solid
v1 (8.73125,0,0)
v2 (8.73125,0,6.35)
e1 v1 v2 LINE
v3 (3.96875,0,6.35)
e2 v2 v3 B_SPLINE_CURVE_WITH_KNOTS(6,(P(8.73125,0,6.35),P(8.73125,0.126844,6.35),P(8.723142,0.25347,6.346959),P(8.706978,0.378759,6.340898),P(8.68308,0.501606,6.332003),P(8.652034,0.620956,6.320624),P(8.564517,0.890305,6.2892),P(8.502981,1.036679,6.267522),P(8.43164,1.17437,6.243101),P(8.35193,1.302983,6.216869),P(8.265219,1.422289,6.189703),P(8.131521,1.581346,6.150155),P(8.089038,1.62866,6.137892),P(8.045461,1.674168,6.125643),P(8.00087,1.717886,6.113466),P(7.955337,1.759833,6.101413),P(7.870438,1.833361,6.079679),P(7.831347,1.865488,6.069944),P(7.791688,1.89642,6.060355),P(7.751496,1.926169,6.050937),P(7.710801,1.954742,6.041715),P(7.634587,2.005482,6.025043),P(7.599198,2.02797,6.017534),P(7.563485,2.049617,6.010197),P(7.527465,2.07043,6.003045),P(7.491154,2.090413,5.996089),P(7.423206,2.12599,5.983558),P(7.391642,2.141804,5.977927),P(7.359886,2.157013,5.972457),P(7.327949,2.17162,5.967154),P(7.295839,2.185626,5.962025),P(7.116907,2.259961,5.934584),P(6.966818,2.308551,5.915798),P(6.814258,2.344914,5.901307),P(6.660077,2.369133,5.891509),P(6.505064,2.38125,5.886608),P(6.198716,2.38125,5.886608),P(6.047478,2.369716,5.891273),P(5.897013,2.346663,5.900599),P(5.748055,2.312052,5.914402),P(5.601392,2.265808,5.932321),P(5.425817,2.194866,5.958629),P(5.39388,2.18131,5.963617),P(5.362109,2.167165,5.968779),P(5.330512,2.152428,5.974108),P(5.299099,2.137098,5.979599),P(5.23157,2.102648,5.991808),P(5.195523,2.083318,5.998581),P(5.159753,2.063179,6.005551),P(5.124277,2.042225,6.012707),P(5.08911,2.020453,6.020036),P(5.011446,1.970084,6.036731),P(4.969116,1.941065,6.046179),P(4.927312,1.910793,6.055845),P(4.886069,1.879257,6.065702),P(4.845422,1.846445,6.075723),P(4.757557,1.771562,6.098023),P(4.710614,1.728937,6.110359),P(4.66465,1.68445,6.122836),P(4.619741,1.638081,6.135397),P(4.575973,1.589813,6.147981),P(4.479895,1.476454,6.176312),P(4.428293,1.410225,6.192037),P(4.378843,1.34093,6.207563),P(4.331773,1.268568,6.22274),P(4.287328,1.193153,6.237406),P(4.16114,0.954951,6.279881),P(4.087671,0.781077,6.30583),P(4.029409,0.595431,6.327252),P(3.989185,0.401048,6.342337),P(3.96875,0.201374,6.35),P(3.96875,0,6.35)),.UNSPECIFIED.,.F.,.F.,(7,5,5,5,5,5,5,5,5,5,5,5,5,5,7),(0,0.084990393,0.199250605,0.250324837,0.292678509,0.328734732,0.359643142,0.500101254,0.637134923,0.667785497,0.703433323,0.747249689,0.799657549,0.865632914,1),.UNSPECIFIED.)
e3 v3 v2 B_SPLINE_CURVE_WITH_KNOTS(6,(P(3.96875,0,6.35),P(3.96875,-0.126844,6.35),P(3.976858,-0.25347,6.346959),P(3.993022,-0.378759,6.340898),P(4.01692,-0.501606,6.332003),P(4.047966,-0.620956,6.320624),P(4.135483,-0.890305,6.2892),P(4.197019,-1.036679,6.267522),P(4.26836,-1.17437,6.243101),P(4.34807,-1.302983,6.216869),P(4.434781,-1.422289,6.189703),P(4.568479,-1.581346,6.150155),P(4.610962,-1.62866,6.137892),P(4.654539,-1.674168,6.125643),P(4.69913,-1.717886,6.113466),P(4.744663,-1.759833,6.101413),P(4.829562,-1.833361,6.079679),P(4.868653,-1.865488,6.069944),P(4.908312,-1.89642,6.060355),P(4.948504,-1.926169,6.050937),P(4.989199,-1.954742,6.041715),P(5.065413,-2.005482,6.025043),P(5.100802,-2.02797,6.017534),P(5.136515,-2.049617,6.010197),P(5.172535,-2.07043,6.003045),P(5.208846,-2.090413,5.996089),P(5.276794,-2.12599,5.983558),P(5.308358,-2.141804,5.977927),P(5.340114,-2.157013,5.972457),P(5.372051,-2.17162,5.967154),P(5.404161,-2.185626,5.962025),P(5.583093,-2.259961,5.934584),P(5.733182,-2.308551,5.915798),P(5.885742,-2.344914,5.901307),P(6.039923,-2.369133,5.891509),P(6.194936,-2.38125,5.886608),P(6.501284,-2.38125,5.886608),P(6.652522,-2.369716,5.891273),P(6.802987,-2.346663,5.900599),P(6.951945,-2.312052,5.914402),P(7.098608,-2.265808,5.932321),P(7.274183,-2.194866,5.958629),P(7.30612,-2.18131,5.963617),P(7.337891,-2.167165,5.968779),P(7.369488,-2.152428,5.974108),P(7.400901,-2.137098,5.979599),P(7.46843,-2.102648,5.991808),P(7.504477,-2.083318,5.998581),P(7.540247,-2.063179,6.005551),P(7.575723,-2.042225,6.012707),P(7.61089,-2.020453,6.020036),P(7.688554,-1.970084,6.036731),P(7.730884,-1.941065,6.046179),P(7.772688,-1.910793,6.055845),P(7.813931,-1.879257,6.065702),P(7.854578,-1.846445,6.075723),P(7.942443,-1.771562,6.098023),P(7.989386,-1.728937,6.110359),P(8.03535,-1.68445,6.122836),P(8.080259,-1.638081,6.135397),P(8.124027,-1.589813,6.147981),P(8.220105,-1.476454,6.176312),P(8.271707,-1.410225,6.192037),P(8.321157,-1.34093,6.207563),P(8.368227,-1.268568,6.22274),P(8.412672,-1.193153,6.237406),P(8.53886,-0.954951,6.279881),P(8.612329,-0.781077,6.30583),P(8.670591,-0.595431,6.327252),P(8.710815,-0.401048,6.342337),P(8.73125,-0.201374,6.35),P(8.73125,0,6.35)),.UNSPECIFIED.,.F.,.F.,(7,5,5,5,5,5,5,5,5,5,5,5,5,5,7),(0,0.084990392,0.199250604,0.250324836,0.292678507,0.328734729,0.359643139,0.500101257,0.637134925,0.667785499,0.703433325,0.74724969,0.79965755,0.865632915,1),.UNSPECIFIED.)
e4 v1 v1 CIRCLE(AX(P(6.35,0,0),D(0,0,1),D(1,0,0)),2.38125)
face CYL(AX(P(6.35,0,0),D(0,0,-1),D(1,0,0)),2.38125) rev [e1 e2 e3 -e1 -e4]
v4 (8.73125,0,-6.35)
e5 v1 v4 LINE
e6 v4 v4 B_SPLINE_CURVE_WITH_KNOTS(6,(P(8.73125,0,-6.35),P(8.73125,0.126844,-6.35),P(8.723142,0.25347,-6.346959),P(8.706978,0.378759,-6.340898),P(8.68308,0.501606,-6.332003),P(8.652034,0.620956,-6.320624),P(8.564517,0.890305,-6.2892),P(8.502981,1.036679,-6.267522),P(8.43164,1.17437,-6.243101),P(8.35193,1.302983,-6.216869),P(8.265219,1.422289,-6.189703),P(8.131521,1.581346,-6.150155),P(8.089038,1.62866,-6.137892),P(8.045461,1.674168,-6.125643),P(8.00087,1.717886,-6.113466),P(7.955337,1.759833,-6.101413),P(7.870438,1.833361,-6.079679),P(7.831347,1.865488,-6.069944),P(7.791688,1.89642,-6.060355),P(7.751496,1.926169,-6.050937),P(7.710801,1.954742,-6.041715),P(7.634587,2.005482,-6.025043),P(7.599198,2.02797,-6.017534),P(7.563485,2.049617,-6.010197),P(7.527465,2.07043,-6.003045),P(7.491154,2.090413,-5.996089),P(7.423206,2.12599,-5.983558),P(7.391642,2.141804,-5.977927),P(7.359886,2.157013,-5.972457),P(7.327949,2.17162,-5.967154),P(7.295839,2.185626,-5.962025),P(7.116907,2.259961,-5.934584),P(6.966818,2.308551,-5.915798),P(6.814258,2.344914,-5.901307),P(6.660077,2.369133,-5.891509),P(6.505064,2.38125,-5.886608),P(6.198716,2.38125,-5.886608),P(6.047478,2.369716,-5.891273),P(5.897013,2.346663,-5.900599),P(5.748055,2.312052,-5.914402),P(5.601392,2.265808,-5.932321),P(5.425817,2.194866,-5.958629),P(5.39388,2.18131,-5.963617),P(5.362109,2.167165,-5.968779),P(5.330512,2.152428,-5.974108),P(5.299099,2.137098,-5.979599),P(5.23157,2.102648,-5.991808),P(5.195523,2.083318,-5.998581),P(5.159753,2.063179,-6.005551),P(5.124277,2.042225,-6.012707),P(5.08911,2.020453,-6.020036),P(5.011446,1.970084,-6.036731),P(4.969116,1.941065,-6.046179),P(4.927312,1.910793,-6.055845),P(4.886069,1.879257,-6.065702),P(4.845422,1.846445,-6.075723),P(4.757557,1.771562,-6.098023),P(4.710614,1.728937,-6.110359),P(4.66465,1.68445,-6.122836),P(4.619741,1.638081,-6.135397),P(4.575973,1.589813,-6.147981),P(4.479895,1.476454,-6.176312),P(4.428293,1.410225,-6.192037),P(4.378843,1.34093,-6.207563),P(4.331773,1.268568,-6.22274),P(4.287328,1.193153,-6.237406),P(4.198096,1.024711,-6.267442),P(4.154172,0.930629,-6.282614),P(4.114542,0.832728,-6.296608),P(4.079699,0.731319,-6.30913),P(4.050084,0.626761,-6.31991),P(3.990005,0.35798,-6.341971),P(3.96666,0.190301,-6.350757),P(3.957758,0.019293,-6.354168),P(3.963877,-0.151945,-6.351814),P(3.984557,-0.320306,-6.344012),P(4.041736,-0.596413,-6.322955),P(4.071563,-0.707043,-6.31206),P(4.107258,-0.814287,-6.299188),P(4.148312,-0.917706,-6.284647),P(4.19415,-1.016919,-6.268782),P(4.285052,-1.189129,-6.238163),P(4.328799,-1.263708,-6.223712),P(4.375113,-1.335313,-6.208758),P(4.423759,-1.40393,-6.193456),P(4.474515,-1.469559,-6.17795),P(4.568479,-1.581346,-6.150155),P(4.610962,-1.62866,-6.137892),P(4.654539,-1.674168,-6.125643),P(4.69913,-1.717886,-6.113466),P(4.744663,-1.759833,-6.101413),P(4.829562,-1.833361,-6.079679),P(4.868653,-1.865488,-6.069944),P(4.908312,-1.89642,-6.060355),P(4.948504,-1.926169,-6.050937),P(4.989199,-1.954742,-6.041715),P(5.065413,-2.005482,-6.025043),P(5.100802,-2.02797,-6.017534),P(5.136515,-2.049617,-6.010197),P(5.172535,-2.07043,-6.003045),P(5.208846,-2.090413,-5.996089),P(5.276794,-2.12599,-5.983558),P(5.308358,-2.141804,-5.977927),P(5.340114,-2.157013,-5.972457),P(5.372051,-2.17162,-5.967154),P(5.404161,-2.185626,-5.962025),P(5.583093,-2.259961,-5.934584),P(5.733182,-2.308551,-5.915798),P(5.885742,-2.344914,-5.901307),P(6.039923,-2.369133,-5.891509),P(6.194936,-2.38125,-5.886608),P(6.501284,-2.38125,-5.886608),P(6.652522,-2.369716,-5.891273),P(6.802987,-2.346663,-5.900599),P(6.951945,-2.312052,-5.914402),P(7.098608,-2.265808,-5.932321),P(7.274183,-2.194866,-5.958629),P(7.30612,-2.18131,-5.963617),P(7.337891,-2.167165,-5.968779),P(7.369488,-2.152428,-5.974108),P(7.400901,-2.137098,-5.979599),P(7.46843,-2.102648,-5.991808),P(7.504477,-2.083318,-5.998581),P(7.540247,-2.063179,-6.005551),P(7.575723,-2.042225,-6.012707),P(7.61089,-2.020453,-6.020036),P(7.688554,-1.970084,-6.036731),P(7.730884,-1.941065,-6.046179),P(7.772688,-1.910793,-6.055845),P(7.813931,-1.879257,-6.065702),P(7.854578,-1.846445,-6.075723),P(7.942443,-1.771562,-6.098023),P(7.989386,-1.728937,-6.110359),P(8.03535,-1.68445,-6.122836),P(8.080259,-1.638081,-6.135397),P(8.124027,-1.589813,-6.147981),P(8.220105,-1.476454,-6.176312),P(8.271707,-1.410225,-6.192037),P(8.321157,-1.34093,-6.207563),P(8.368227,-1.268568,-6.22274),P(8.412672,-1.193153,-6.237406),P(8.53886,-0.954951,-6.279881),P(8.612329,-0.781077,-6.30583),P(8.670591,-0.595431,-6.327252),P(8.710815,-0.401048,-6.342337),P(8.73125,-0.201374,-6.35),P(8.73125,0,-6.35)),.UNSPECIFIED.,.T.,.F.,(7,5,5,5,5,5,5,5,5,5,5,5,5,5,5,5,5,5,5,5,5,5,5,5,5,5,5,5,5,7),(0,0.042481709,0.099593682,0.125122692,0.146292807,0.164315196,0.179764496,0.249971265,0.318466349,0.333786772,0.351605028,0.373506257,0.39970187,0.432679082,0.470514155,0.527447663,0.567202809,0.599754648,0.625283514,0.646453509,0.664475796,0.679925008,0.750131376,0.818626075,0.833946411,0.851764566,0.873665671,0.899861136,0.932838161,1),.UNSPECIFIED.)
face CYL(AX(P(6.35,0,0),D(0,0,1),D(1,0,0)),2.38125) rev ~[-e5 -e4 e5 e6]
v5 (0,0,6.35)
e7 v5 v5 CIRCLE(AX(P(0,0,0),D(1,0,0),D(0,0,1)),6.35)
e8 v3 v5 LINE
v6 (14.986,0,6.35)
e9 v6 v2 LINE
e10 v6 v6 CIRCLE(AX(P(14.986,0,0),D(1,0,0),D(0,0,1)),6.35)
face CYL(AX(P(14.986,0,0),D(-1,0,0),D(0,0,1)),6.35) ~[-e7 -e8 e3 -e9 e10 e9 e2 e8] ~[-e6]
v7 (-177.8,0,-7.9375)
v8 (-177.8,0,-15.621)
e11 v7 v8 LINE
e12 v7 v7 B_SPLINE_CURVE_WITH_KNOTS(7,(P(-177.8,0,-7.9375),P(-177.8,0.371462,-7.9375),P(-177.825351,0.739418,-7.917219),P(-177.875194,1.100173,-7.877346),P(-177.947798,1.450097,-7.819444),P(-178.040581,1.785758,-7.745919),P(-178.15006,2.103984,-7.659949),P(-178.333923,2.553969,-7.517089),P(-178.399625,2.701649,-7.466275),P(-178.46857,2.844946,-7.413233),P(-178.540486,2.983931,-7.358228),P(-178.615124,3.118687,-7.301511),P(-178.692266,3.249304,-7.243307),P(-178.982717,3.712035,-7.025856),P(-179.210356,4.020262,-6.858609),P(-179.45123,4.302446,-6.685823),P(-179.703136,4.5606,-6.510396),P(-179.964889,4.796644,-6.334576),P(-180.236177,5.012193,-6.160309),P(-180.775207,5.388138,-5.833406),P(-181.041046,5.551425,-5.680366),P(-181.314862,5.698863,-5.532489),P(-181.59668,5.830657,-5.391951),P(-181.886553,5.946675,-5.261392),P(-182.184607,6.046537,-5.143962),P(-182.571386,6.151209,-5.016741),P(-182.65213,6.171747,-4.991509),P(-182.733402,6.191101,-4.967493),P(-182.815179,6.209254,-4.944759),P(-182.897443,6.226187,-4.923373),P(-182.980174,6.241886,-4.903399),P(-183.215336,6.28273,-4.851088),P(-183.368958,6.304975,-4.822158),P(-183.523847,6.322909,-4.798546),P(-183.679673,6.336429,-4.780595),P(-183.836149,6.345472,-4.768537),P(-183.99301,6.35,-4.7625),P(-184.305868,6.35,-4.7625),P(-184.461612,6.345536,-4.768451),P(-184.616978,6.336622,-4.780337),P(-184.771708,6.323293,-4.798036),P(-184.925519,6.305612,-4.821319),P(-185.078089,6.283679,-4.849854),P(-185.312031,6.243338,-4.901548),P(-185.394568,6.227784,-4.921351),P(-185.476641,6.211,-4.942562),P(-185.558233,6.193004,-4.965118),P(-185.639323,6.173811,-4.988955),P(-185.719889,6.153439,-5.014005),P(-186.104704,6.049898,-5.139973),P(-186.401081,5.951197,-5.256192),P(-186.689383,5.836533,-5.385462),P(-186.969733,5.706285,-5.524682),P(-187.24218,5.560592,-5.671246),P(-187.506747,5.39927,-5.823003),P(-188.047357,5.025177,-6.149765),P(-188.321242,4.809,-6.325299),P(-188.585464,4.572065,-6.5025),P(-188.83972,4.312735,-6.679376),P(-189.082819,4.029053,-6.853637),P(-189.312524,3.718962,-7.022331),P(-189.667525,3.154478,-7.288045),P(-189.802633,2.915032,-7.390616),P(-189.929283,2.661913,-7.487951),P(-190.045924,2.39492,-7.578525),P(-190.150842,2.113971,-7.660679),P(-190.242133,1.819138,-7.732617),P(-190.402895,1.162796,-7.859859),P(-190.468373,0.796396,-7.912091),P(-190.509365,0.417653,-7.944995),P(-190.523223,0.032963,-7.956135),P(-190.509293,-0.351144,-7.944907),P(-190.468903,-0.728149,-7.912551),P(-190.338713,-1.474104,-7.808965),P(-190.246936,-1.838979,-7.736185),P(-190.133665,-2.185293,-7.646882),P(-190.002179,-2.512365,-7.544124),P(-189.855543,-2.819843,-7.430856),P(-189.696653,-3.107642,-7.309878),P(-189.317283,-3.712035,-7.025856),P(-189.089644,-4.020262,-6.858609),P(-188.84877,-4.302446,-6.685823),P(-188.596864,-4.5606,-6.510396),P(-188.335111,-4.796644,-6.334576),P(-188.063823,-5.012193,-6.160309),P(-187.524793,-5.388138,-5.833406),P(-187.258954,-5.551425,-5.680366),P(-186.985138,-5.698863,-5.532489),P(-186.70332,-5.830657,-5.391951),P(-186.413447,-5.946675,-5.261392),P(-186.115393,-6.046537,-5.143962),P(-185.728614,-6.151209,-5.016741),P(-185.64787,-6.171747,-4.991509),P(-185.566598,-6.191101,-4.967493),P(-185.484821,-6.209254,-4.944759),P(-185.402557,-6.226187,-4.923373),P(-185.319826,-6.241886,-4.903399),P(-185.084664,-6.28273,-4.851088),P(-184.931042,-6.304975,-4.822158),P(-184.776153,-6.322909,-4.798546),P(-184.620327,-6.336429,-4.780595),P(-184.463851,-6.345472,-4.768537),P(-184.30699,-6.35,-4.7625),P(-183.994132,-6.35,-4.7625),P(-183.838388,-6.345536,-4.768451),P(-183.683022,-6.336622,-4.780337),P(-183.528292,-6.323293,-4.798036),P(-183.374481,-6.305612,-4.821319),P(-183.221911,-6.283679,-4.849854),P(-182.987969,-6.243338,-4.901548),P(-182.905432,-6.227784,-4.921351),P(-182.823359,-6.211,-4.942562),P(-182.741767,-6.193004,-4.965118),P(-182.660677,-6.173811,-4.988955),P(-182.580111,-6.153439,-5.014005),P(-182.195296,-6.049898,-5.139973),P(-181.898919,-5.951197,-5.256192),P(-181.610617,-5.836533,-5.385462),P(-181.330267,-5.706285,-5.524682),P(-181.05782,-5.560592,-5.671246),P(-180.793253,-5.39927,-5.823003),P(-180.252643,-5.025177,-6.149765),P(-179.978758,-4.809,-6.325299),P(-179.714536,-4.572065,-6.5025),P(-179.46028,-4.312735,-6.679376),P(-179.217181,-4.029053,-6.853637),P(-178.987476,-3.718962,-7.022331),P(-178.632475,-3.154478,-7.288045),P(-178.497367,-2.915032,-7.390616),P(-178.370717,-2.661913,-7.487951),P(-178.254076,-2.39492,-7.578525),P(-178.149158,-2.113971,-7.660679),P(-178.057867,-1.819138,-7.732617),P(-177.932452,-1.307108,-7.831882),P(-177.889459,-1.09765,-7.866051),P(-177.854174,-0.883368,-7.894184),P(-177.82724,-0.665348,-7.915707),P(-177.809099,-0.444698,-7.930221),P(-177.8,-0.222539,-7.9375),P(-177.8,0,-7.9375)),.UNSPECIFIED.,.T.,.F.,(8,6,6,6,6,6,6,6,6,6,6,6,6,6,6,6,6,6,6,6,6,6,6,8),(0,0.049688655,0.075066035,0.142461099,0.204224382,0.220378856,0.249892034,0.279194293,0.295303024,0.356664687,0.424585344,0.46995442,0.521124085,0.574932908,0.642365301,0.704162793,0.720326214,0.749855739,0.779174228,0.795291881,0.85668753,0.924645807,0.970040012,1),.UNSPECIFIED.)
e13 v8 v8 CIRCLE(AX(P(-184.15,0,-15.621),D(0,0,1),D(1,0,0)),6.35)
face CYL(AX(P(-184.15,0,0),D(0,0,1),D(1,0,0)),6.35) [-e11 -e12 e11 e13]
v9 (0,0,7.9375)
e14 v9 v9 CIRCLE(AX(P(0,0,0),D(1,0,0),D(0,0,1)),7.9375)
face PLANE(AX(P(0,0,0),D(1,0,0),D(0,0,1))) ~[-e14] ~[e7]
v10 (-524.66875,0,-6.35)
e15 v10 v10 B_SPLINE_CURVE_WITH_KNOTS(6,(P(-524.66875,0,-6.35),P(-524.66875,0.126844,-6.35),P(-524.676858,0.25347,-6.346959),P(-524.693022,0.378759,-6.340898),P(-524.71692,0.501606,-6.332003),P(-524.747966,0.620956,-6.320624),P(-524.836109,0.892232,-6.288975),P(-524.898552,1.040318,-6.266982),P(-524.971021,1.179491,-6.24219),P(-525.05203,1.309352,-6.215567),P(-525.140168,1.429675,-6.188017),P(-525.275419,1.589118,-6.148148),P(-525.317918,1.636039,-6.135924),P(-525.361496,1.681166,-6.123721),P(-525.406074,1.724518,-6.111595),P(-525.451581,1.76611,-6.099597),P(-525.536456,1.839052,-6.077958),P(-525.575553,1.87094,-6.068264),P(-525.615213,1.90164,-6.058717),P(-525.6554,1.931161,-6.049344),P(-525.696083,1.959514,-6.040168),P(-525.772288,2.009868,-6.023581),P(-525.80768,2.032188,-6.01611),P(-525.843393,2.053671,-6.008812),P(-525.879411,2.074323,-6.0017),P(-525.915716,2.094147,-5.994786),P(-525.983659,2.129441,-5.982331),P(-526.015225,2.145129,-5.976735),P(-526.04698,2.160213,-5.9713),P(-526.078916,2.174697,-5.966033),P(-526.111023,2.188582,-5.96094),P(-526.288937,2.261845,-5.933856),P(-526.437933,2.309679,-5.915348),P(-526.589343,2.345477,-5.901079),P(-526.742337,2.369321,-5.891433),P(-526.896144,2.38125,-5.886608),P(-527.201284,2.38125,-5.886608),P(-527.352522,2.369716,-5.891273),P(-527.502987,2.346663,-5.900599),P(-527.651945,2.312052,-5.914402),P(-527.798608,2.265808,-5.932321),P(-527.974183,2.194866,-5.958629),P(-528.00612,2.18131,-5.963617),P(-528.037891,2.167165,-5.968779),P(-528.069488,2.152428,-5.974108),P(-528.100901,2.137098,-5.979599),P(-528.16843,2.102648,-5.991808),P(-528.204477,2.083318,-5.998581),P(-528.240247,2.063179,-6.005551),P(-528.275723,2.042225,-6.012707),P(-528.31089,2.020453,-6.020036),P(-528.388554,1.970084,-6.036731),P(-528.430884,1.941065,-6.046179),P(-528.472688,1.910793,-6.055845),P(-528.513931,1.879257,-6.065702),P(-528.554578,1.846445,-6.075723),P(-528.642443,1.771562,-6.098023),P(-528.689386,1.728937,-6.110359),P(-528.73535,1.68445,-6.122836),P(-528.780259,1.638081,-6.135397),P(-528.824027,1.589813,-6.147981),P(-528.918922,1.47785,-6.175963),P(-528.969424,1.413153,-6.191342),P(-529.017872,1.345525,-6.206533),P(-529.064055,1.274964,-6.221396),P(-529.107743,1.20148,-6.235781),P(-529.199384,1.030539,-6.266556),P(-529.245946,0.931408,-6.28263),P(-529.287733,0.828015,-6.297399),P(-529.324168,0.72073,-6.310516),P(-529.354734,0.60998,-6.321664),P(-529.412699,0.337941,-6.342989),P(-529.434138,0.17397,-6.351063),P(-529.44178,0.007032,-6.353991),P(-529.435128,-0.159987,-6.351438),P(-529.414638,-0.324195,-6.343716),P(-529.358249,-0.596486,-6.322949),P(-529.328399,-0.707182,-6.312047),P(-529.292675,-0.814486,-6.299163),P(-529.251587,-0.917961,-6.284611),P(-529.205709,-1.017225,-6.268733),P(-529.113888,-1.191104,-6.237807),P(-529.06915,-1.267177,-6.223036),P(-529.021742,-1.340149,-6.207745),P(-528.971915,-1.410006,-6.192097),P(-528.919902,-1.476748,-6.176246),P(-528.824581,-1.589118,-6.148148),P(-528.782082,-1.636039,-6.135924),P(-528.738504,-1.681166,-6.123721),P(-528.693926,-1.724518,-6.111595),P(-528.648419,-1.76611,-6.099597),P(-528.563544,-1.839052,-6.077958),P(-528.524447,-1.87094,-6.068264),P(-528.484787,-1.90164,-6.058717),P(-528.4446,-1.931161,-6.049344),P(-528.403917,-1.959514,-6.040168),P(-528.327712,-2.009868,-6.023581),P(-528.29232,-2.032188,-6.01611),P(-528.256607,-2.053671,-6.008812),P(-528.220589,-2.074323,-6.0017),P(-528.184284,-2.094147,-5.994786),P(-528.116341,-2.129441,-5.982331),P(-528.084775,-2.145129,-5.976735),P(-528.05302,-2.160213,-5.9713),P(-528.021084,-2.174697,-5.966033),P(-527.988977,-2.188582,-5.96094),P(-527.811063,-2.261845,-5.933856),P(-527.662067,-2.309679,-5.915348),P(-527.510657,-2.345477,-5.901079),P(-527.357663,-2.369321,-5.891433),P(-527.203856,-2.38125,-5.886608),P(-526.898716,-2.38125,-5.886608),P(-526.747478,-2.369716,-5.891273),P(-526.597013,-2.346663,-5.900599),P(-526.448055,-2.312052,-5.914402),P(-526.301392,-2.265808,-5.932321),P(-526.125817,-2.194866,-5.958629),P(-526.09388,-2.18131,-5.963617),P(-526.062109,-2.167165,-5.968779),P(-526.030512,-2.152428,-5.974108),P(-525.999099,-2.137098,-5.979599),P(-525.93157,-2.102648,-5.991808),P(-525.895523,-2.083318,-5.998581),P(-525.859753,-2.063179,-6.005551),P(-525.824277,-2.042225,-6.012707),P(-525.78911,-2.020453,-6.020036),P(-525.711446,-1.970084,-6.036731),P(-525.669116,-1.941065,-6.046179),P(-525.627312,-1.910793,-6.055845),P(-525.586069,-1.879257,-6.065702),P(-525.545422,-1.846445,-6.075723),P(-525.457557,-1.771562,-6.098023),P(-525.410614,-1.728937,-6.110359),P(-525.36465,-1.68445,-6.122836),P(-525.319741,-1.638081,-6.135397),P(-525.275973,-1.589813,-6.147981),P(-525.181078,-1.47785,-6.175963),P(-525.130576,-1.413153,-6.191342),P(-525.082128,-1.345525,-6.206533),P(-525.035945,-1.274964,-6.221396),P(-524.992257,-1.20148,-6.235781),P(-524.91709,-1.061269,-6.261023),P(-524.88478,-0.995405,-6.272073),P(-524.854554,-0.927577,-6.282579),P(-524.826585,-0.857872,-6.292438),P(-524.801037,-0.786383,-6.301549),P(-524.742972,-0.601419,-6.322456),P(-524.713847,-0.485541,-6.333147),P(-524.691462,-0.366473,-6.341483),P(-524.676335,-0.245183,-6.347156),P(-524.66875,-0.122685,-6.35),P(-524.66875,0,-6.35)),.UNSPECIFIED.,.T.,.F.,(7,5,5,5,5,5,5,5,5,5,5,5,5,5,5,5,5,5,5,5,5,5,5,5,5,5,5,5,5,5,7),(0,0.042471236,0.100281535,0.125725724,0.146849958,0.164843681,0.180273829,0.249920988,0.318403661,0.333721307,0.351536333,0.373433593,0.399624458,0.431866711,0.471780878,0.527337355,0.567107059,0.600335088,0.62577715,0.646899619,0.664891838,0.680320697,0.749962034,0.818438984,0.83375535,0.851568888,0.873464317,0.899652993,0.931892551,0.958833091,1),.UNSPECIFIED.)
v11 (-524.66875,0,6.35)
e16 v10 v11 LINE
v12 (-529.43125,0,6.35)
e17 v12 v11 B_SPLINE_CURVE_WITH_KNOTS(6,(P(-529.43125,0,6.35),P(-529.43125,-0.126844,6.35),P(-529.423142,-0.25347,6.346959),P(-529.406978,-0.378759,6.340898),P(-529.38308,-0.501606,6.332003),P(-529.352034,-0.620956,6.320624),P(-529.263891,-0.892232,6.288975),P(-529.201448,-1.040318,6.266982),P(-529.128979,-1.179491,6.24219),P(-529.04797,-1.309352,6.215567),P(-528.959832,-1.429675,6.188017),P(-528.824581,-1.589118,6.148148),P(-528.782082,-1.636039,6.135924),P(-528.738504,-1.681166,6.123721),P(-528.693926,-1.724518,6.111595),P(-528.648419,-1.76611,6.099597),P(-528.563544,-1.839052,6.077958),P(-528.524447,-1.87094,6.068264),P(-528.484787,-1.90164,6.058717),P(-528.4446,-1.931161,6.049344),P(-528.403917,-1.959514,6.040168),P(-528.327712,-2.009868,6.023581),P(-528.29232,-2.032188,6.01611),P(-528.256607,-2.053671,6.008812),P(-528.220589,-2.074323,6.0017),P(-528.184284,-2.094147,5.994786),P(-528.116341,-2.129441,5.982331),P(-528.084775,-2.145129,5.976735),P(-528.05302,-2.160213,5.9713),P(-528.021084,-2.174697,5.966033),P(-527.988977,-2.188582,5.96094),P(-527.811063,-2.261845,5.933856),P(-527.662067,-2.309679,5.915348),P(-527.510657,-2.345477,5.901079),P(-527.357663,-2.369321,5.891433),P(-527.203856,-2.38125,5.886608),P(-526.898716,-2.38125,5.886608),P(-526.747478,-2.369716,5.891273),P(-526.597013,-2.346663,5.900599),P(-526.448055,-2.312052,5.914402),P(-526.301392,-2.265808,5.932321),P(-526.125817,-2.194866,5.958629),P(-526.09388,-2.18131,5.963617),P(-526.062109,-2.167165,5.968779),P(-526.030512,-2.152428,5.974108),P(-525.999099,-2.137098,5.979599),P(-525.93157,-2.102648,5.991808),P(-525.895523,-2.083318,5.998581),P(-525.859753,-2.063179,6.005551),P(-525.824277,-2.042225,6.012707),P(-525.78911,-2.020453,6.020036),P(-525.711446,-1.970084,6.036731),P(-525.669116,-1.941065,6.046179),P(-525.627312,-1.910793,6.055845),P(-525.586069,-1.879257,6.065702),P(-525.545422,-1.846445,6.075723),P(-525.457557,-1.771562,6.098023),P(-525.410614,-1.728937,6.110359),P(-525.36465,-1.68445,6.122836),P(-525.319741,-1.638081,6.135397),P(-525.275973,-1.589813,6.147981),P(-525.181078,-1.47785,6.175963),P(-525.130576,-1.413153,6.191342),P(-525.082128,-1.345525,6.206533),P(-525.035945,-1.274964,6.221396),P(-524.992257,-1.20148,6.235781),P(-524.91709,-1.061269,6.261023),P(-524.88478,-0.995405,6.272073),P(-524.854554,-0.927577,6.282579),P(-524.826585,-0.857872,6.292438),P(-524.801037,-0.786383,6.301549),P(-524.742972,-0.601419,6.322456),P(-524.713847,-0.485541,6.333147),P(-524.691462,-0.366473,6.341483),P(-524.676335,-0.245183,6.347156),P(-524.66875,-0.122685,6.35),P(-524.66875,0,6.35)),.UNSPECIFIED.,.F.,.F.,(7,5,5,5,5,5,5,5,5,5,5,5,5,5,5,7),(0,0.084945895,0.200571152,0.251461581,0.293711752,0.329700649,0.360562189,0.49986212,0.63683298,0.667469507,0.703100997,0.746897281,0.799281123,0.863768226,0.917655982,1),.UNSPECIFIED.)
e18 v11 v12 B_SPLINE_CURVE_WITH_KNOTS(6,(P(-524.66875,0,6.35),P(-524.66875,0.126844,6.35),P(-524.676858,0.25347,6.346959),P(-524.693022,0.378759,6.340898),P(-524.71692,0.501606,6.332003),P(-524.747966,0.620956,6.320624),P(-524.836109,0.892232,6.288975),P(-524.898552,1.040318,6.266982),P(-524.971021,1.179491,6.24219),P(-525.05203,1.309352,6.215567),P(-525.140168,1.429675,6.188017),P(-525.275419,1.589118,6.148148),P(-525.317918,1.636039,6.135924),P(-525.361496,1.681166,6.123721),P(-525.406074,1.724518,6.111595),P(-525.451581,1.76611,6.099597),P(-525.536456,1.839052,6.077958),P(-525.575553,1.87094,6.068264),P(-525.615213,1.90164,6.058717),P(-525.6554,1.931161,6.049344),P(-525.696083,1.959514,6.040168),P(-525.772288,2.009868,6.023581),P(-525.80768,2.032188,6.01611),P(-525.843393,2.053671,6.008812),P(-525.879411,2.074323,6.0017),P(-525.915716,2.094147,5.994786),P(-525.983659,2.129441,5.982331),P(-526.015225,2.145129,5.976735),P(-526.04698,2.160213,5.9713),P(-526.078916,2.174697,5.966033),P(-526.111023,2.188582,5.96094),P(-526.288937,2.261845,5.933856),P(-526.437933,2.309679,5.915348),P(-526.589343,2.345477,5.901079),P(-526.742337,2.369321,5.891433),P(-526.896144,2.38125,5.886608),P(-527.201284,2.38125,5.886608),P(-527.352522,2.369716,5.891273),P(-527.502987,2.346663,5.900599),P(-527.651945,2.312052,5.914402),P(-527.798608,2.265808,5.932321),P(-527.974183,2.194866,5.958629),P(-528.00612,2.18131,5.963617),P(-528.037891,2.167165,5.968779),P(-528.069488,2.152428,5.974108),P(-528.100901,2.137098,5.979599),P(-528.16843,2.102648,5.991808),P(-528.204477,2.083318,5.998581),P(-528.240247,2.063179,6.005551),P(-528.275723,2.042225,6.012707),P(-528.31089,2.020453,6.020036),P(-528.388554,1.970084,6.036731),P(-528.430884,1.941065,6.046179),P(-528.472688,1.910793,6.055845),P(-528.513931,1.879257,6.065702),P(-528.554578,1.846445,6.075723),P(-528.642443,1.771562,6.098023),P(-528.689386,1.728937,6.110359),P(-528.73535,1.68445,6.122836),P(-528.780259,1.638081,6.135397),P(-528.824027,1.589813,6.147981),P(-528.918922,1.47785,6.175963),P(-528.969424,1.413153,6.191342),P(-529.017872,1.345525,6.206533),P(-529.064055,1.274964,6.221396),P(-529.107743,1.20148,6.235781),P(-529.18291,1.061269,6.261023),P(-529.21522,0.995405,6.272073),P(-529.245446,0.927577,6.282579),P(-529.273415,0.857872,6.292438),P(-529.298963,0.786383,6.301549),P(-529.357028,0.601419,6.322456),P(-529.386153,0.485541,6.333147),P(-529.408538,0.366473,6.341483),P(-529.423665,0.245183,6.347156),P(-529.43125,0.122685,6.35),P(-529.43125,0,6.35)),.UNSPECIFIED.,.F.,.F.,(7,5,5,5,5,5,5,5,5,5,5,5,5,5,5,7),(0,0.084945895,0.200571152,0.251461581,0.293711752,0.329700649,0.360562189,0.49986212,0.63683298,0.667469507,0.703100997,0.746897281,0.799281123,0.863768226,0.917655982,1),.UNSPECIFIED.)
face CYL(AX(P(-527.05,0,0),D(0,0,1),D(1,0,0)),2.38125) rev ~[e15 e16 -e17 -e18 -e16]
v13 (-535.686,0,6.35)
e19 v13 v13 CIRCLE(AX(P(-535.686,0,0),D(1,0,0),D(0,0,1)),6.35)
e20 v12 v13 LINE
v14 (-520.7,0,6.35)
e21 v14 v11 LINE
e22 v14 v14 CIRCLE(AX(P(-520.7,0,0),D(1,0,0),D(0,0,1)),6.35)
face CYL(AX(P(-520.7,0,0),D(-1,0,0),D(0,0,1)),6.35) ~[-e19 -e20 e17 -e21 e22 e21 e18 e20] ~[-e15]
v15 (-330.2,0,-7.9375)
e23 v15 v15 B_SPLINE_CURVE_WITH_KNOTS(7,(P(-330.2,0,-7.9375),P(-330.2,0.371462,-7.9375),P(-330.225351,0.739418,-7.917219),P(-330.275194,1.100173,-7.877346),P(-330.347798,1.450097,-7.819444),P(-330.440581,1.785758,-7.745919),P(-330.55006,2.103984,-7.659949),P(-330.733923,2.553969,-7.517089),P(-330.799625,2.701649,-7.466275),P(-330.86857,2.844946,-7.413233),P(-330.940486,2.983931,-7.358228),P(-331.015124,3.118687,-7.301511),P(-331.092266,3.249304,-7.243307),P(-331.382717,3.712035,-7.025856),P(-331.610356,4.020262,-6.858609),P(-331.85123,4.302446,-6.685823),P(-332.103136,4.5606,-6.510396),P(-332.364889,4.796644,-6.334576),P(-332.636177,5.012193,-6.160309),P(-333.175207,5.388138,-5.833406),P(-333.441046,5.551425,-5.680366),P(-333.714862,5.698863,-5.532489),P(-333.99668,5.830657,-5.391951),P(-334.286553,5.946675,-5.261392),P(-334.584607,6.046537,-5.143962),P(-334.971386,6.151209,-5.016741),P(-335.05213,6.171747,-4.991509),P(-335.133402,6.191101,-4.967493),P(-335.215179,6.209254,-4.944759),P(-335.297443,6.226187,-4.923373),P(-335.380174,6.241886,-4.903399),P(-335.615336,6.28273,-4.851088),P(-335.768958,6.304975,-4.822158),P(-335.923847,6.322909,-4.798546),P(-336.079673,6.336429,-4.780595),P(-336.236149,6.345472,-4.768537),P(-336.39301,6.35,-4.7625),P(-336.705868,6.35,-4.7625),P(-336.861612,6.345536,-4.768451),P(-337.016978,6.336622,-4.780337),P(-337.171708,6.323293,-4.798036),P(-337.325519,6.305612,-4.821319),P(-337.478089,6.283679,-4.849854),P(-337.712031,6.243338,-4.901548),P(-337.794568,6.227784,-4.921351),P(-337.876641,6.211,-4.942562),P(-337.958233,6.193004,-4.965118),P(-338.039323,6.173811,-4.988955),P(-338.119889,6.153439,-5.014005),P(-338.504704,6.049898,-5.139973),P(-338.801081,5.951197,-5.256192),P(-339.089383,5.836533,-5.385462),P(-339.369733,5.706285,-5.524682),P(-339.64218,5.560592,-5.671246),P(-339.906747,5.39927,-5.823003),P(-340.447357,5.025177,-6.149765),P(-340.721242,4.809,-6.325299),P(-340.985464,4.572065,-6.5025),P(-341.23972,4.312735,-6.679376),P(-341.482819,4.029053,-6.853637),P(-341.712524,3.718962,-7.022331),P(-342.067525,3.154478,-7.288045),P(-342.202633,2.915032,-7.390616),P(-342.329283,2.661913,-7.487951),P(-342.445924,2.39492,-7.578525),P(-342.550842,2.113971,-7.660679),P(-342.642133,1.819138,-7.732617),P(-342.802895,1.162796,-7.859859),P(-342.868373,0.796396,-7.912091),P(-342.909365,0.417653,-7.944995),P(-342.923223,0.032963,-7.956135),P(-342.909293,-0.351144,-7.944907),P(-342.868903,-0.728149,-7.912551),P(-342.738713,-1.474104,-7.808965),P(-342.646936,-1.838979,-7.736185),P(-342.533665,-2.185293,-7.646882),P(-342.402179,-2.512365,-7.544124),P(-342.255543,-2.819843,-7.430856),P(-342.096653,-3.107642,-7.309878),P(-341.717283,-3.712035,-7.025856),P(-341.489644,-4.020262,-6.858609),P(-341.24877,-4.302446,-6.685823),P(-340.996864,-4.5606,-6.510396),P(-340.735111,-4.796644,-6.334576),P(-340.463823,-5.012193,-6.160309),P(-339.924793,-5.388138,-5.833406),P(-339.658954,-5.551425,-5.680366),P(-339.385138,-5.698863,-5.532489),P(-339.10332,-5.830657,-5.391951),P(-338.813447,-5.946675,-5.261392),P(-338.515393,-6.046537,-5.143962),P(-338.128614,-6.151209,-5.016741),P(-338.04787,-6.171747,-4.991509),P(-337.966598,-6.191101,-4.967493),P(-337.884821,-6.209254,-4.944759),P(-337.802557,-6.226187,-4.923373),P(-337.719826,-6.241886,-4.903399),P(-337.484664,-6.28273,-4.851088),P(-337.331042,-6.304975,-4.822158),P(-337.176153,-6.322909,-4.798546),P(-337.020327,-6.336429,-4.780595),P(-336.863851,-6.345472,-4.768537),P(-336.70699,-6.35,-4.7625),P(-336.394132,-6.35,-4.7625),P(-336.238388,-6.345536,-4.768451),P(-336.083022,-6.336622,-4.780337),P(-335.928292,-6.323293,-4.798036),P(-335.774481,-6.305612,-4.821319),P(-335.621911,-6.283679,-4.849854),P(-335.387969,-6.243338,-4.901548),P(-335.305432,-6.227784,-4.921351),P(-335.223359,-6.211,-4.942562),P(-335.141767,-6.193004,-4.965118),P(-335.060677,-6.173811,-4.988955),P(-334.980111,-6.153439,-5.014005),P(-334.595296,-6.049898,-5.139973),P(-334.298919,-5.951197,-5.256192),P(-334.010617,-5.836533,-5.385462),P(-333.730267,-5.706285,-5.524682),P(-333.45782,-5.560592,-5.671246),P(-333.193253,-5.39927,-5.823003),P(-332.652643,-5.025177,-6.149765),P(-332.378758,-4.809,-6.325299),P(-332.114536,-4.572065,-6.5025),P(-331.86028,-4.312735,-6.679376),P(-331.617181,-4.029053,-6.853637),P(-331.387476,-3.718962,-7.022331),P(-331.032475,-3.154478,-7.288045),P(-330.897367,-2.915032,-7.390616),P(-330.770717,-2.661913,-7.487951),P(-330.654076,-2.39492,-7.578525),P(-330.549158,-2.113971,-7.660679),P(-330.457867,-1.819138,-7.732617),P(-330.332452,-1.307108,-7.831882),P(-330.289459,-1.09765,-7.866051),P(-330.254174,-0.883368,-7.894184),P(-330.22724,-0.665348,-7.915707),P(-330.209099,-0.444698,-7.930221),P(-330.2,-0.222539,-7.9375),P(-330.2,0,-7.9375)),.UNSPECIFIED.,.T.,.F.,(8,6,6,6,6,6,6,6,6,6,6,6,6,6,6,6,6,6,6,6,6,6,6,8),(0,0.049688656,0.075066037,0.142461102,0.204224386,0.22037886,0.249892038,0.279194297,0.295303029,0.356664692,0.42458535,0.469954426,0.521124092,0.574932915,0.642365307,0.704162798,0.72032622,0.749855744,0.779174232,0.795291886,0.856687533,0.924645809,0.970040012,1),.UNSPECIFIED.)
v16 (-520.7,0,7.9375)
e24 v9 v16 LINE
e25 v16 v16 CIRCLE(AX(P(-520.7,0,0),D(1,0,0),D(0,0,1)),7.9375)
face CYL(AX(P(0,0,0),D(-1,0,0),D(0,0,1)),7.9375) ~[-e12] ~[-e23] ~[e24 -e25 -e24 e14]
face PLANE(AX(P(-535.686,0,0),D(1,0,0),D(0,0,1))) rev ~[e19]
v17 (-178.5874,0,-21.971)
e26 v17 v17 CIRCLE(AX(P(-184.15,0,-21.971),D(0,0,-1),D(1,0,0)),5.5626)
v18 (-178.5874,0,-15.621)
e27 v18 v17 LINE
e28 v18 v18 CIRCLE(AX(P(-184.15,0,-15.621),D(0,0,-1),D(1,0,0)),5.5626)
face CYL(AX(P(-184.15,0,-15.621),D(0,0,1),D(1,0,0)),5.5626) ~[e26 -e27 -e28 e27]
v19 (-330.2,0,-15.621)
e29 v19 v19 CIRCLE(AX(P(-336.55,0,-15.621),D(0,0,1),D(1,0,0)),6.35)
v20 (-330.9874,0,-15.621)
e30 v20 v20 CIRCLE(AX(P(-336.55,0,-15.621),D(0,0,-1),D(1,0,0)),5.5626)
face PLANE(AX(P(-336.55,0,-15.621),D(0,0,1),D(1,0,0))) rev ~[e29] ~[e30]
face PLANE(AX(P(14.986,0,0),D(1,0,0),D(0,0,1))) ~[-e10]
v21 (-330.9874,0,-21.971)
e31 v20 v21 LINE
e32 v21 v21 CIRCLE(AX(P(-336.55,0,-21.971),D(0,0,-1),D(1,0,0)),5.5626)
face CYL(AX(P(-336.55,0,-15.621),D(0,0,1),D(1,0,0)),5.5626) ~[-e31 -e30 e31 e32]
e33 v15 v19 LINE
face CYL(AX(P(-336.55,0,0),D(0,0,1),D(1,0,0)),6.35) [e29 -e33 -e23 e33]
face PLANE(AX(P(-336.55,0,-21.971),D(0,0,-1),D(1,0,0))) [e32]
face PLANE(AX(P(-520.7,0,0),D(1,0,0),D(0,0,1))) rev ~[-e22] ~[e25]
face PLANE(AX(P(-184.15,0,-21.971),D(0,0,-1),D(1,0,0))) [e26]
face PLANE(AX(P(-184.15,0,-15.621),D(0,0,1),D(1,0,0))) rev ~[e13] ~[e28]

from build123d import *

# Parameters (mm, degrees)
F2_R     = 2.38125
F3_DEPTH = 25.4
F4_R     = 6.35
F5_DEPTH = 15.621
F6_R     = 5.5626
F7_DEPTH = 6.35


with BuildPart() as f1:
    # F0 (on Front) → F1 (revolve)
    with BuildSketch(Plane.XZ):
        Polygon((-535.686, 0), (14.986, 0), (14.986, 6.35), (0, 6.35), (0, 7.9375), (-520.7, 7.9375), (-520.7, 6.35), (-535.686, 6.35), align=None)
    revolve(axis=Axis((-260.35, 0, 0), (1, 0, 0)))

    # F2 (on Top) → F3 (cut, symmetric)
    with BuildSketch(Plane.XY):
        with Locations((6.35, 0)):
            Circle(F2_R)
        with Locations((-527.05, 0)):
            Circle(F2_R)
    extrude(amount=F3_DEPTH, both=True, mode=Mode.SUBTRACT)

    # F4 (on Top) → F5 (join)
    with BuildSketch(Plane.XY):
        with Locations((-336.55, 0)):
            Circle(F4_R)
        with Locations((-184.15, 0)):
            Circle(F4_R)
    extrude(amount=-F5_DEPTH)

    # F6 (on face) → F7 (join)
    with BuildSketch(Plane(origin=(0, 0, -15.621), x_dir=(1, 0, 0), z_dir=(0, 0, -1))):
        with Locations((-336.55, 0)):
            Circle(F6_R)
        with Locations((-184.15, 0)):
            Circle(F6_R)
    extrude(amount=F7_DEPTH)


solid = f1.part
